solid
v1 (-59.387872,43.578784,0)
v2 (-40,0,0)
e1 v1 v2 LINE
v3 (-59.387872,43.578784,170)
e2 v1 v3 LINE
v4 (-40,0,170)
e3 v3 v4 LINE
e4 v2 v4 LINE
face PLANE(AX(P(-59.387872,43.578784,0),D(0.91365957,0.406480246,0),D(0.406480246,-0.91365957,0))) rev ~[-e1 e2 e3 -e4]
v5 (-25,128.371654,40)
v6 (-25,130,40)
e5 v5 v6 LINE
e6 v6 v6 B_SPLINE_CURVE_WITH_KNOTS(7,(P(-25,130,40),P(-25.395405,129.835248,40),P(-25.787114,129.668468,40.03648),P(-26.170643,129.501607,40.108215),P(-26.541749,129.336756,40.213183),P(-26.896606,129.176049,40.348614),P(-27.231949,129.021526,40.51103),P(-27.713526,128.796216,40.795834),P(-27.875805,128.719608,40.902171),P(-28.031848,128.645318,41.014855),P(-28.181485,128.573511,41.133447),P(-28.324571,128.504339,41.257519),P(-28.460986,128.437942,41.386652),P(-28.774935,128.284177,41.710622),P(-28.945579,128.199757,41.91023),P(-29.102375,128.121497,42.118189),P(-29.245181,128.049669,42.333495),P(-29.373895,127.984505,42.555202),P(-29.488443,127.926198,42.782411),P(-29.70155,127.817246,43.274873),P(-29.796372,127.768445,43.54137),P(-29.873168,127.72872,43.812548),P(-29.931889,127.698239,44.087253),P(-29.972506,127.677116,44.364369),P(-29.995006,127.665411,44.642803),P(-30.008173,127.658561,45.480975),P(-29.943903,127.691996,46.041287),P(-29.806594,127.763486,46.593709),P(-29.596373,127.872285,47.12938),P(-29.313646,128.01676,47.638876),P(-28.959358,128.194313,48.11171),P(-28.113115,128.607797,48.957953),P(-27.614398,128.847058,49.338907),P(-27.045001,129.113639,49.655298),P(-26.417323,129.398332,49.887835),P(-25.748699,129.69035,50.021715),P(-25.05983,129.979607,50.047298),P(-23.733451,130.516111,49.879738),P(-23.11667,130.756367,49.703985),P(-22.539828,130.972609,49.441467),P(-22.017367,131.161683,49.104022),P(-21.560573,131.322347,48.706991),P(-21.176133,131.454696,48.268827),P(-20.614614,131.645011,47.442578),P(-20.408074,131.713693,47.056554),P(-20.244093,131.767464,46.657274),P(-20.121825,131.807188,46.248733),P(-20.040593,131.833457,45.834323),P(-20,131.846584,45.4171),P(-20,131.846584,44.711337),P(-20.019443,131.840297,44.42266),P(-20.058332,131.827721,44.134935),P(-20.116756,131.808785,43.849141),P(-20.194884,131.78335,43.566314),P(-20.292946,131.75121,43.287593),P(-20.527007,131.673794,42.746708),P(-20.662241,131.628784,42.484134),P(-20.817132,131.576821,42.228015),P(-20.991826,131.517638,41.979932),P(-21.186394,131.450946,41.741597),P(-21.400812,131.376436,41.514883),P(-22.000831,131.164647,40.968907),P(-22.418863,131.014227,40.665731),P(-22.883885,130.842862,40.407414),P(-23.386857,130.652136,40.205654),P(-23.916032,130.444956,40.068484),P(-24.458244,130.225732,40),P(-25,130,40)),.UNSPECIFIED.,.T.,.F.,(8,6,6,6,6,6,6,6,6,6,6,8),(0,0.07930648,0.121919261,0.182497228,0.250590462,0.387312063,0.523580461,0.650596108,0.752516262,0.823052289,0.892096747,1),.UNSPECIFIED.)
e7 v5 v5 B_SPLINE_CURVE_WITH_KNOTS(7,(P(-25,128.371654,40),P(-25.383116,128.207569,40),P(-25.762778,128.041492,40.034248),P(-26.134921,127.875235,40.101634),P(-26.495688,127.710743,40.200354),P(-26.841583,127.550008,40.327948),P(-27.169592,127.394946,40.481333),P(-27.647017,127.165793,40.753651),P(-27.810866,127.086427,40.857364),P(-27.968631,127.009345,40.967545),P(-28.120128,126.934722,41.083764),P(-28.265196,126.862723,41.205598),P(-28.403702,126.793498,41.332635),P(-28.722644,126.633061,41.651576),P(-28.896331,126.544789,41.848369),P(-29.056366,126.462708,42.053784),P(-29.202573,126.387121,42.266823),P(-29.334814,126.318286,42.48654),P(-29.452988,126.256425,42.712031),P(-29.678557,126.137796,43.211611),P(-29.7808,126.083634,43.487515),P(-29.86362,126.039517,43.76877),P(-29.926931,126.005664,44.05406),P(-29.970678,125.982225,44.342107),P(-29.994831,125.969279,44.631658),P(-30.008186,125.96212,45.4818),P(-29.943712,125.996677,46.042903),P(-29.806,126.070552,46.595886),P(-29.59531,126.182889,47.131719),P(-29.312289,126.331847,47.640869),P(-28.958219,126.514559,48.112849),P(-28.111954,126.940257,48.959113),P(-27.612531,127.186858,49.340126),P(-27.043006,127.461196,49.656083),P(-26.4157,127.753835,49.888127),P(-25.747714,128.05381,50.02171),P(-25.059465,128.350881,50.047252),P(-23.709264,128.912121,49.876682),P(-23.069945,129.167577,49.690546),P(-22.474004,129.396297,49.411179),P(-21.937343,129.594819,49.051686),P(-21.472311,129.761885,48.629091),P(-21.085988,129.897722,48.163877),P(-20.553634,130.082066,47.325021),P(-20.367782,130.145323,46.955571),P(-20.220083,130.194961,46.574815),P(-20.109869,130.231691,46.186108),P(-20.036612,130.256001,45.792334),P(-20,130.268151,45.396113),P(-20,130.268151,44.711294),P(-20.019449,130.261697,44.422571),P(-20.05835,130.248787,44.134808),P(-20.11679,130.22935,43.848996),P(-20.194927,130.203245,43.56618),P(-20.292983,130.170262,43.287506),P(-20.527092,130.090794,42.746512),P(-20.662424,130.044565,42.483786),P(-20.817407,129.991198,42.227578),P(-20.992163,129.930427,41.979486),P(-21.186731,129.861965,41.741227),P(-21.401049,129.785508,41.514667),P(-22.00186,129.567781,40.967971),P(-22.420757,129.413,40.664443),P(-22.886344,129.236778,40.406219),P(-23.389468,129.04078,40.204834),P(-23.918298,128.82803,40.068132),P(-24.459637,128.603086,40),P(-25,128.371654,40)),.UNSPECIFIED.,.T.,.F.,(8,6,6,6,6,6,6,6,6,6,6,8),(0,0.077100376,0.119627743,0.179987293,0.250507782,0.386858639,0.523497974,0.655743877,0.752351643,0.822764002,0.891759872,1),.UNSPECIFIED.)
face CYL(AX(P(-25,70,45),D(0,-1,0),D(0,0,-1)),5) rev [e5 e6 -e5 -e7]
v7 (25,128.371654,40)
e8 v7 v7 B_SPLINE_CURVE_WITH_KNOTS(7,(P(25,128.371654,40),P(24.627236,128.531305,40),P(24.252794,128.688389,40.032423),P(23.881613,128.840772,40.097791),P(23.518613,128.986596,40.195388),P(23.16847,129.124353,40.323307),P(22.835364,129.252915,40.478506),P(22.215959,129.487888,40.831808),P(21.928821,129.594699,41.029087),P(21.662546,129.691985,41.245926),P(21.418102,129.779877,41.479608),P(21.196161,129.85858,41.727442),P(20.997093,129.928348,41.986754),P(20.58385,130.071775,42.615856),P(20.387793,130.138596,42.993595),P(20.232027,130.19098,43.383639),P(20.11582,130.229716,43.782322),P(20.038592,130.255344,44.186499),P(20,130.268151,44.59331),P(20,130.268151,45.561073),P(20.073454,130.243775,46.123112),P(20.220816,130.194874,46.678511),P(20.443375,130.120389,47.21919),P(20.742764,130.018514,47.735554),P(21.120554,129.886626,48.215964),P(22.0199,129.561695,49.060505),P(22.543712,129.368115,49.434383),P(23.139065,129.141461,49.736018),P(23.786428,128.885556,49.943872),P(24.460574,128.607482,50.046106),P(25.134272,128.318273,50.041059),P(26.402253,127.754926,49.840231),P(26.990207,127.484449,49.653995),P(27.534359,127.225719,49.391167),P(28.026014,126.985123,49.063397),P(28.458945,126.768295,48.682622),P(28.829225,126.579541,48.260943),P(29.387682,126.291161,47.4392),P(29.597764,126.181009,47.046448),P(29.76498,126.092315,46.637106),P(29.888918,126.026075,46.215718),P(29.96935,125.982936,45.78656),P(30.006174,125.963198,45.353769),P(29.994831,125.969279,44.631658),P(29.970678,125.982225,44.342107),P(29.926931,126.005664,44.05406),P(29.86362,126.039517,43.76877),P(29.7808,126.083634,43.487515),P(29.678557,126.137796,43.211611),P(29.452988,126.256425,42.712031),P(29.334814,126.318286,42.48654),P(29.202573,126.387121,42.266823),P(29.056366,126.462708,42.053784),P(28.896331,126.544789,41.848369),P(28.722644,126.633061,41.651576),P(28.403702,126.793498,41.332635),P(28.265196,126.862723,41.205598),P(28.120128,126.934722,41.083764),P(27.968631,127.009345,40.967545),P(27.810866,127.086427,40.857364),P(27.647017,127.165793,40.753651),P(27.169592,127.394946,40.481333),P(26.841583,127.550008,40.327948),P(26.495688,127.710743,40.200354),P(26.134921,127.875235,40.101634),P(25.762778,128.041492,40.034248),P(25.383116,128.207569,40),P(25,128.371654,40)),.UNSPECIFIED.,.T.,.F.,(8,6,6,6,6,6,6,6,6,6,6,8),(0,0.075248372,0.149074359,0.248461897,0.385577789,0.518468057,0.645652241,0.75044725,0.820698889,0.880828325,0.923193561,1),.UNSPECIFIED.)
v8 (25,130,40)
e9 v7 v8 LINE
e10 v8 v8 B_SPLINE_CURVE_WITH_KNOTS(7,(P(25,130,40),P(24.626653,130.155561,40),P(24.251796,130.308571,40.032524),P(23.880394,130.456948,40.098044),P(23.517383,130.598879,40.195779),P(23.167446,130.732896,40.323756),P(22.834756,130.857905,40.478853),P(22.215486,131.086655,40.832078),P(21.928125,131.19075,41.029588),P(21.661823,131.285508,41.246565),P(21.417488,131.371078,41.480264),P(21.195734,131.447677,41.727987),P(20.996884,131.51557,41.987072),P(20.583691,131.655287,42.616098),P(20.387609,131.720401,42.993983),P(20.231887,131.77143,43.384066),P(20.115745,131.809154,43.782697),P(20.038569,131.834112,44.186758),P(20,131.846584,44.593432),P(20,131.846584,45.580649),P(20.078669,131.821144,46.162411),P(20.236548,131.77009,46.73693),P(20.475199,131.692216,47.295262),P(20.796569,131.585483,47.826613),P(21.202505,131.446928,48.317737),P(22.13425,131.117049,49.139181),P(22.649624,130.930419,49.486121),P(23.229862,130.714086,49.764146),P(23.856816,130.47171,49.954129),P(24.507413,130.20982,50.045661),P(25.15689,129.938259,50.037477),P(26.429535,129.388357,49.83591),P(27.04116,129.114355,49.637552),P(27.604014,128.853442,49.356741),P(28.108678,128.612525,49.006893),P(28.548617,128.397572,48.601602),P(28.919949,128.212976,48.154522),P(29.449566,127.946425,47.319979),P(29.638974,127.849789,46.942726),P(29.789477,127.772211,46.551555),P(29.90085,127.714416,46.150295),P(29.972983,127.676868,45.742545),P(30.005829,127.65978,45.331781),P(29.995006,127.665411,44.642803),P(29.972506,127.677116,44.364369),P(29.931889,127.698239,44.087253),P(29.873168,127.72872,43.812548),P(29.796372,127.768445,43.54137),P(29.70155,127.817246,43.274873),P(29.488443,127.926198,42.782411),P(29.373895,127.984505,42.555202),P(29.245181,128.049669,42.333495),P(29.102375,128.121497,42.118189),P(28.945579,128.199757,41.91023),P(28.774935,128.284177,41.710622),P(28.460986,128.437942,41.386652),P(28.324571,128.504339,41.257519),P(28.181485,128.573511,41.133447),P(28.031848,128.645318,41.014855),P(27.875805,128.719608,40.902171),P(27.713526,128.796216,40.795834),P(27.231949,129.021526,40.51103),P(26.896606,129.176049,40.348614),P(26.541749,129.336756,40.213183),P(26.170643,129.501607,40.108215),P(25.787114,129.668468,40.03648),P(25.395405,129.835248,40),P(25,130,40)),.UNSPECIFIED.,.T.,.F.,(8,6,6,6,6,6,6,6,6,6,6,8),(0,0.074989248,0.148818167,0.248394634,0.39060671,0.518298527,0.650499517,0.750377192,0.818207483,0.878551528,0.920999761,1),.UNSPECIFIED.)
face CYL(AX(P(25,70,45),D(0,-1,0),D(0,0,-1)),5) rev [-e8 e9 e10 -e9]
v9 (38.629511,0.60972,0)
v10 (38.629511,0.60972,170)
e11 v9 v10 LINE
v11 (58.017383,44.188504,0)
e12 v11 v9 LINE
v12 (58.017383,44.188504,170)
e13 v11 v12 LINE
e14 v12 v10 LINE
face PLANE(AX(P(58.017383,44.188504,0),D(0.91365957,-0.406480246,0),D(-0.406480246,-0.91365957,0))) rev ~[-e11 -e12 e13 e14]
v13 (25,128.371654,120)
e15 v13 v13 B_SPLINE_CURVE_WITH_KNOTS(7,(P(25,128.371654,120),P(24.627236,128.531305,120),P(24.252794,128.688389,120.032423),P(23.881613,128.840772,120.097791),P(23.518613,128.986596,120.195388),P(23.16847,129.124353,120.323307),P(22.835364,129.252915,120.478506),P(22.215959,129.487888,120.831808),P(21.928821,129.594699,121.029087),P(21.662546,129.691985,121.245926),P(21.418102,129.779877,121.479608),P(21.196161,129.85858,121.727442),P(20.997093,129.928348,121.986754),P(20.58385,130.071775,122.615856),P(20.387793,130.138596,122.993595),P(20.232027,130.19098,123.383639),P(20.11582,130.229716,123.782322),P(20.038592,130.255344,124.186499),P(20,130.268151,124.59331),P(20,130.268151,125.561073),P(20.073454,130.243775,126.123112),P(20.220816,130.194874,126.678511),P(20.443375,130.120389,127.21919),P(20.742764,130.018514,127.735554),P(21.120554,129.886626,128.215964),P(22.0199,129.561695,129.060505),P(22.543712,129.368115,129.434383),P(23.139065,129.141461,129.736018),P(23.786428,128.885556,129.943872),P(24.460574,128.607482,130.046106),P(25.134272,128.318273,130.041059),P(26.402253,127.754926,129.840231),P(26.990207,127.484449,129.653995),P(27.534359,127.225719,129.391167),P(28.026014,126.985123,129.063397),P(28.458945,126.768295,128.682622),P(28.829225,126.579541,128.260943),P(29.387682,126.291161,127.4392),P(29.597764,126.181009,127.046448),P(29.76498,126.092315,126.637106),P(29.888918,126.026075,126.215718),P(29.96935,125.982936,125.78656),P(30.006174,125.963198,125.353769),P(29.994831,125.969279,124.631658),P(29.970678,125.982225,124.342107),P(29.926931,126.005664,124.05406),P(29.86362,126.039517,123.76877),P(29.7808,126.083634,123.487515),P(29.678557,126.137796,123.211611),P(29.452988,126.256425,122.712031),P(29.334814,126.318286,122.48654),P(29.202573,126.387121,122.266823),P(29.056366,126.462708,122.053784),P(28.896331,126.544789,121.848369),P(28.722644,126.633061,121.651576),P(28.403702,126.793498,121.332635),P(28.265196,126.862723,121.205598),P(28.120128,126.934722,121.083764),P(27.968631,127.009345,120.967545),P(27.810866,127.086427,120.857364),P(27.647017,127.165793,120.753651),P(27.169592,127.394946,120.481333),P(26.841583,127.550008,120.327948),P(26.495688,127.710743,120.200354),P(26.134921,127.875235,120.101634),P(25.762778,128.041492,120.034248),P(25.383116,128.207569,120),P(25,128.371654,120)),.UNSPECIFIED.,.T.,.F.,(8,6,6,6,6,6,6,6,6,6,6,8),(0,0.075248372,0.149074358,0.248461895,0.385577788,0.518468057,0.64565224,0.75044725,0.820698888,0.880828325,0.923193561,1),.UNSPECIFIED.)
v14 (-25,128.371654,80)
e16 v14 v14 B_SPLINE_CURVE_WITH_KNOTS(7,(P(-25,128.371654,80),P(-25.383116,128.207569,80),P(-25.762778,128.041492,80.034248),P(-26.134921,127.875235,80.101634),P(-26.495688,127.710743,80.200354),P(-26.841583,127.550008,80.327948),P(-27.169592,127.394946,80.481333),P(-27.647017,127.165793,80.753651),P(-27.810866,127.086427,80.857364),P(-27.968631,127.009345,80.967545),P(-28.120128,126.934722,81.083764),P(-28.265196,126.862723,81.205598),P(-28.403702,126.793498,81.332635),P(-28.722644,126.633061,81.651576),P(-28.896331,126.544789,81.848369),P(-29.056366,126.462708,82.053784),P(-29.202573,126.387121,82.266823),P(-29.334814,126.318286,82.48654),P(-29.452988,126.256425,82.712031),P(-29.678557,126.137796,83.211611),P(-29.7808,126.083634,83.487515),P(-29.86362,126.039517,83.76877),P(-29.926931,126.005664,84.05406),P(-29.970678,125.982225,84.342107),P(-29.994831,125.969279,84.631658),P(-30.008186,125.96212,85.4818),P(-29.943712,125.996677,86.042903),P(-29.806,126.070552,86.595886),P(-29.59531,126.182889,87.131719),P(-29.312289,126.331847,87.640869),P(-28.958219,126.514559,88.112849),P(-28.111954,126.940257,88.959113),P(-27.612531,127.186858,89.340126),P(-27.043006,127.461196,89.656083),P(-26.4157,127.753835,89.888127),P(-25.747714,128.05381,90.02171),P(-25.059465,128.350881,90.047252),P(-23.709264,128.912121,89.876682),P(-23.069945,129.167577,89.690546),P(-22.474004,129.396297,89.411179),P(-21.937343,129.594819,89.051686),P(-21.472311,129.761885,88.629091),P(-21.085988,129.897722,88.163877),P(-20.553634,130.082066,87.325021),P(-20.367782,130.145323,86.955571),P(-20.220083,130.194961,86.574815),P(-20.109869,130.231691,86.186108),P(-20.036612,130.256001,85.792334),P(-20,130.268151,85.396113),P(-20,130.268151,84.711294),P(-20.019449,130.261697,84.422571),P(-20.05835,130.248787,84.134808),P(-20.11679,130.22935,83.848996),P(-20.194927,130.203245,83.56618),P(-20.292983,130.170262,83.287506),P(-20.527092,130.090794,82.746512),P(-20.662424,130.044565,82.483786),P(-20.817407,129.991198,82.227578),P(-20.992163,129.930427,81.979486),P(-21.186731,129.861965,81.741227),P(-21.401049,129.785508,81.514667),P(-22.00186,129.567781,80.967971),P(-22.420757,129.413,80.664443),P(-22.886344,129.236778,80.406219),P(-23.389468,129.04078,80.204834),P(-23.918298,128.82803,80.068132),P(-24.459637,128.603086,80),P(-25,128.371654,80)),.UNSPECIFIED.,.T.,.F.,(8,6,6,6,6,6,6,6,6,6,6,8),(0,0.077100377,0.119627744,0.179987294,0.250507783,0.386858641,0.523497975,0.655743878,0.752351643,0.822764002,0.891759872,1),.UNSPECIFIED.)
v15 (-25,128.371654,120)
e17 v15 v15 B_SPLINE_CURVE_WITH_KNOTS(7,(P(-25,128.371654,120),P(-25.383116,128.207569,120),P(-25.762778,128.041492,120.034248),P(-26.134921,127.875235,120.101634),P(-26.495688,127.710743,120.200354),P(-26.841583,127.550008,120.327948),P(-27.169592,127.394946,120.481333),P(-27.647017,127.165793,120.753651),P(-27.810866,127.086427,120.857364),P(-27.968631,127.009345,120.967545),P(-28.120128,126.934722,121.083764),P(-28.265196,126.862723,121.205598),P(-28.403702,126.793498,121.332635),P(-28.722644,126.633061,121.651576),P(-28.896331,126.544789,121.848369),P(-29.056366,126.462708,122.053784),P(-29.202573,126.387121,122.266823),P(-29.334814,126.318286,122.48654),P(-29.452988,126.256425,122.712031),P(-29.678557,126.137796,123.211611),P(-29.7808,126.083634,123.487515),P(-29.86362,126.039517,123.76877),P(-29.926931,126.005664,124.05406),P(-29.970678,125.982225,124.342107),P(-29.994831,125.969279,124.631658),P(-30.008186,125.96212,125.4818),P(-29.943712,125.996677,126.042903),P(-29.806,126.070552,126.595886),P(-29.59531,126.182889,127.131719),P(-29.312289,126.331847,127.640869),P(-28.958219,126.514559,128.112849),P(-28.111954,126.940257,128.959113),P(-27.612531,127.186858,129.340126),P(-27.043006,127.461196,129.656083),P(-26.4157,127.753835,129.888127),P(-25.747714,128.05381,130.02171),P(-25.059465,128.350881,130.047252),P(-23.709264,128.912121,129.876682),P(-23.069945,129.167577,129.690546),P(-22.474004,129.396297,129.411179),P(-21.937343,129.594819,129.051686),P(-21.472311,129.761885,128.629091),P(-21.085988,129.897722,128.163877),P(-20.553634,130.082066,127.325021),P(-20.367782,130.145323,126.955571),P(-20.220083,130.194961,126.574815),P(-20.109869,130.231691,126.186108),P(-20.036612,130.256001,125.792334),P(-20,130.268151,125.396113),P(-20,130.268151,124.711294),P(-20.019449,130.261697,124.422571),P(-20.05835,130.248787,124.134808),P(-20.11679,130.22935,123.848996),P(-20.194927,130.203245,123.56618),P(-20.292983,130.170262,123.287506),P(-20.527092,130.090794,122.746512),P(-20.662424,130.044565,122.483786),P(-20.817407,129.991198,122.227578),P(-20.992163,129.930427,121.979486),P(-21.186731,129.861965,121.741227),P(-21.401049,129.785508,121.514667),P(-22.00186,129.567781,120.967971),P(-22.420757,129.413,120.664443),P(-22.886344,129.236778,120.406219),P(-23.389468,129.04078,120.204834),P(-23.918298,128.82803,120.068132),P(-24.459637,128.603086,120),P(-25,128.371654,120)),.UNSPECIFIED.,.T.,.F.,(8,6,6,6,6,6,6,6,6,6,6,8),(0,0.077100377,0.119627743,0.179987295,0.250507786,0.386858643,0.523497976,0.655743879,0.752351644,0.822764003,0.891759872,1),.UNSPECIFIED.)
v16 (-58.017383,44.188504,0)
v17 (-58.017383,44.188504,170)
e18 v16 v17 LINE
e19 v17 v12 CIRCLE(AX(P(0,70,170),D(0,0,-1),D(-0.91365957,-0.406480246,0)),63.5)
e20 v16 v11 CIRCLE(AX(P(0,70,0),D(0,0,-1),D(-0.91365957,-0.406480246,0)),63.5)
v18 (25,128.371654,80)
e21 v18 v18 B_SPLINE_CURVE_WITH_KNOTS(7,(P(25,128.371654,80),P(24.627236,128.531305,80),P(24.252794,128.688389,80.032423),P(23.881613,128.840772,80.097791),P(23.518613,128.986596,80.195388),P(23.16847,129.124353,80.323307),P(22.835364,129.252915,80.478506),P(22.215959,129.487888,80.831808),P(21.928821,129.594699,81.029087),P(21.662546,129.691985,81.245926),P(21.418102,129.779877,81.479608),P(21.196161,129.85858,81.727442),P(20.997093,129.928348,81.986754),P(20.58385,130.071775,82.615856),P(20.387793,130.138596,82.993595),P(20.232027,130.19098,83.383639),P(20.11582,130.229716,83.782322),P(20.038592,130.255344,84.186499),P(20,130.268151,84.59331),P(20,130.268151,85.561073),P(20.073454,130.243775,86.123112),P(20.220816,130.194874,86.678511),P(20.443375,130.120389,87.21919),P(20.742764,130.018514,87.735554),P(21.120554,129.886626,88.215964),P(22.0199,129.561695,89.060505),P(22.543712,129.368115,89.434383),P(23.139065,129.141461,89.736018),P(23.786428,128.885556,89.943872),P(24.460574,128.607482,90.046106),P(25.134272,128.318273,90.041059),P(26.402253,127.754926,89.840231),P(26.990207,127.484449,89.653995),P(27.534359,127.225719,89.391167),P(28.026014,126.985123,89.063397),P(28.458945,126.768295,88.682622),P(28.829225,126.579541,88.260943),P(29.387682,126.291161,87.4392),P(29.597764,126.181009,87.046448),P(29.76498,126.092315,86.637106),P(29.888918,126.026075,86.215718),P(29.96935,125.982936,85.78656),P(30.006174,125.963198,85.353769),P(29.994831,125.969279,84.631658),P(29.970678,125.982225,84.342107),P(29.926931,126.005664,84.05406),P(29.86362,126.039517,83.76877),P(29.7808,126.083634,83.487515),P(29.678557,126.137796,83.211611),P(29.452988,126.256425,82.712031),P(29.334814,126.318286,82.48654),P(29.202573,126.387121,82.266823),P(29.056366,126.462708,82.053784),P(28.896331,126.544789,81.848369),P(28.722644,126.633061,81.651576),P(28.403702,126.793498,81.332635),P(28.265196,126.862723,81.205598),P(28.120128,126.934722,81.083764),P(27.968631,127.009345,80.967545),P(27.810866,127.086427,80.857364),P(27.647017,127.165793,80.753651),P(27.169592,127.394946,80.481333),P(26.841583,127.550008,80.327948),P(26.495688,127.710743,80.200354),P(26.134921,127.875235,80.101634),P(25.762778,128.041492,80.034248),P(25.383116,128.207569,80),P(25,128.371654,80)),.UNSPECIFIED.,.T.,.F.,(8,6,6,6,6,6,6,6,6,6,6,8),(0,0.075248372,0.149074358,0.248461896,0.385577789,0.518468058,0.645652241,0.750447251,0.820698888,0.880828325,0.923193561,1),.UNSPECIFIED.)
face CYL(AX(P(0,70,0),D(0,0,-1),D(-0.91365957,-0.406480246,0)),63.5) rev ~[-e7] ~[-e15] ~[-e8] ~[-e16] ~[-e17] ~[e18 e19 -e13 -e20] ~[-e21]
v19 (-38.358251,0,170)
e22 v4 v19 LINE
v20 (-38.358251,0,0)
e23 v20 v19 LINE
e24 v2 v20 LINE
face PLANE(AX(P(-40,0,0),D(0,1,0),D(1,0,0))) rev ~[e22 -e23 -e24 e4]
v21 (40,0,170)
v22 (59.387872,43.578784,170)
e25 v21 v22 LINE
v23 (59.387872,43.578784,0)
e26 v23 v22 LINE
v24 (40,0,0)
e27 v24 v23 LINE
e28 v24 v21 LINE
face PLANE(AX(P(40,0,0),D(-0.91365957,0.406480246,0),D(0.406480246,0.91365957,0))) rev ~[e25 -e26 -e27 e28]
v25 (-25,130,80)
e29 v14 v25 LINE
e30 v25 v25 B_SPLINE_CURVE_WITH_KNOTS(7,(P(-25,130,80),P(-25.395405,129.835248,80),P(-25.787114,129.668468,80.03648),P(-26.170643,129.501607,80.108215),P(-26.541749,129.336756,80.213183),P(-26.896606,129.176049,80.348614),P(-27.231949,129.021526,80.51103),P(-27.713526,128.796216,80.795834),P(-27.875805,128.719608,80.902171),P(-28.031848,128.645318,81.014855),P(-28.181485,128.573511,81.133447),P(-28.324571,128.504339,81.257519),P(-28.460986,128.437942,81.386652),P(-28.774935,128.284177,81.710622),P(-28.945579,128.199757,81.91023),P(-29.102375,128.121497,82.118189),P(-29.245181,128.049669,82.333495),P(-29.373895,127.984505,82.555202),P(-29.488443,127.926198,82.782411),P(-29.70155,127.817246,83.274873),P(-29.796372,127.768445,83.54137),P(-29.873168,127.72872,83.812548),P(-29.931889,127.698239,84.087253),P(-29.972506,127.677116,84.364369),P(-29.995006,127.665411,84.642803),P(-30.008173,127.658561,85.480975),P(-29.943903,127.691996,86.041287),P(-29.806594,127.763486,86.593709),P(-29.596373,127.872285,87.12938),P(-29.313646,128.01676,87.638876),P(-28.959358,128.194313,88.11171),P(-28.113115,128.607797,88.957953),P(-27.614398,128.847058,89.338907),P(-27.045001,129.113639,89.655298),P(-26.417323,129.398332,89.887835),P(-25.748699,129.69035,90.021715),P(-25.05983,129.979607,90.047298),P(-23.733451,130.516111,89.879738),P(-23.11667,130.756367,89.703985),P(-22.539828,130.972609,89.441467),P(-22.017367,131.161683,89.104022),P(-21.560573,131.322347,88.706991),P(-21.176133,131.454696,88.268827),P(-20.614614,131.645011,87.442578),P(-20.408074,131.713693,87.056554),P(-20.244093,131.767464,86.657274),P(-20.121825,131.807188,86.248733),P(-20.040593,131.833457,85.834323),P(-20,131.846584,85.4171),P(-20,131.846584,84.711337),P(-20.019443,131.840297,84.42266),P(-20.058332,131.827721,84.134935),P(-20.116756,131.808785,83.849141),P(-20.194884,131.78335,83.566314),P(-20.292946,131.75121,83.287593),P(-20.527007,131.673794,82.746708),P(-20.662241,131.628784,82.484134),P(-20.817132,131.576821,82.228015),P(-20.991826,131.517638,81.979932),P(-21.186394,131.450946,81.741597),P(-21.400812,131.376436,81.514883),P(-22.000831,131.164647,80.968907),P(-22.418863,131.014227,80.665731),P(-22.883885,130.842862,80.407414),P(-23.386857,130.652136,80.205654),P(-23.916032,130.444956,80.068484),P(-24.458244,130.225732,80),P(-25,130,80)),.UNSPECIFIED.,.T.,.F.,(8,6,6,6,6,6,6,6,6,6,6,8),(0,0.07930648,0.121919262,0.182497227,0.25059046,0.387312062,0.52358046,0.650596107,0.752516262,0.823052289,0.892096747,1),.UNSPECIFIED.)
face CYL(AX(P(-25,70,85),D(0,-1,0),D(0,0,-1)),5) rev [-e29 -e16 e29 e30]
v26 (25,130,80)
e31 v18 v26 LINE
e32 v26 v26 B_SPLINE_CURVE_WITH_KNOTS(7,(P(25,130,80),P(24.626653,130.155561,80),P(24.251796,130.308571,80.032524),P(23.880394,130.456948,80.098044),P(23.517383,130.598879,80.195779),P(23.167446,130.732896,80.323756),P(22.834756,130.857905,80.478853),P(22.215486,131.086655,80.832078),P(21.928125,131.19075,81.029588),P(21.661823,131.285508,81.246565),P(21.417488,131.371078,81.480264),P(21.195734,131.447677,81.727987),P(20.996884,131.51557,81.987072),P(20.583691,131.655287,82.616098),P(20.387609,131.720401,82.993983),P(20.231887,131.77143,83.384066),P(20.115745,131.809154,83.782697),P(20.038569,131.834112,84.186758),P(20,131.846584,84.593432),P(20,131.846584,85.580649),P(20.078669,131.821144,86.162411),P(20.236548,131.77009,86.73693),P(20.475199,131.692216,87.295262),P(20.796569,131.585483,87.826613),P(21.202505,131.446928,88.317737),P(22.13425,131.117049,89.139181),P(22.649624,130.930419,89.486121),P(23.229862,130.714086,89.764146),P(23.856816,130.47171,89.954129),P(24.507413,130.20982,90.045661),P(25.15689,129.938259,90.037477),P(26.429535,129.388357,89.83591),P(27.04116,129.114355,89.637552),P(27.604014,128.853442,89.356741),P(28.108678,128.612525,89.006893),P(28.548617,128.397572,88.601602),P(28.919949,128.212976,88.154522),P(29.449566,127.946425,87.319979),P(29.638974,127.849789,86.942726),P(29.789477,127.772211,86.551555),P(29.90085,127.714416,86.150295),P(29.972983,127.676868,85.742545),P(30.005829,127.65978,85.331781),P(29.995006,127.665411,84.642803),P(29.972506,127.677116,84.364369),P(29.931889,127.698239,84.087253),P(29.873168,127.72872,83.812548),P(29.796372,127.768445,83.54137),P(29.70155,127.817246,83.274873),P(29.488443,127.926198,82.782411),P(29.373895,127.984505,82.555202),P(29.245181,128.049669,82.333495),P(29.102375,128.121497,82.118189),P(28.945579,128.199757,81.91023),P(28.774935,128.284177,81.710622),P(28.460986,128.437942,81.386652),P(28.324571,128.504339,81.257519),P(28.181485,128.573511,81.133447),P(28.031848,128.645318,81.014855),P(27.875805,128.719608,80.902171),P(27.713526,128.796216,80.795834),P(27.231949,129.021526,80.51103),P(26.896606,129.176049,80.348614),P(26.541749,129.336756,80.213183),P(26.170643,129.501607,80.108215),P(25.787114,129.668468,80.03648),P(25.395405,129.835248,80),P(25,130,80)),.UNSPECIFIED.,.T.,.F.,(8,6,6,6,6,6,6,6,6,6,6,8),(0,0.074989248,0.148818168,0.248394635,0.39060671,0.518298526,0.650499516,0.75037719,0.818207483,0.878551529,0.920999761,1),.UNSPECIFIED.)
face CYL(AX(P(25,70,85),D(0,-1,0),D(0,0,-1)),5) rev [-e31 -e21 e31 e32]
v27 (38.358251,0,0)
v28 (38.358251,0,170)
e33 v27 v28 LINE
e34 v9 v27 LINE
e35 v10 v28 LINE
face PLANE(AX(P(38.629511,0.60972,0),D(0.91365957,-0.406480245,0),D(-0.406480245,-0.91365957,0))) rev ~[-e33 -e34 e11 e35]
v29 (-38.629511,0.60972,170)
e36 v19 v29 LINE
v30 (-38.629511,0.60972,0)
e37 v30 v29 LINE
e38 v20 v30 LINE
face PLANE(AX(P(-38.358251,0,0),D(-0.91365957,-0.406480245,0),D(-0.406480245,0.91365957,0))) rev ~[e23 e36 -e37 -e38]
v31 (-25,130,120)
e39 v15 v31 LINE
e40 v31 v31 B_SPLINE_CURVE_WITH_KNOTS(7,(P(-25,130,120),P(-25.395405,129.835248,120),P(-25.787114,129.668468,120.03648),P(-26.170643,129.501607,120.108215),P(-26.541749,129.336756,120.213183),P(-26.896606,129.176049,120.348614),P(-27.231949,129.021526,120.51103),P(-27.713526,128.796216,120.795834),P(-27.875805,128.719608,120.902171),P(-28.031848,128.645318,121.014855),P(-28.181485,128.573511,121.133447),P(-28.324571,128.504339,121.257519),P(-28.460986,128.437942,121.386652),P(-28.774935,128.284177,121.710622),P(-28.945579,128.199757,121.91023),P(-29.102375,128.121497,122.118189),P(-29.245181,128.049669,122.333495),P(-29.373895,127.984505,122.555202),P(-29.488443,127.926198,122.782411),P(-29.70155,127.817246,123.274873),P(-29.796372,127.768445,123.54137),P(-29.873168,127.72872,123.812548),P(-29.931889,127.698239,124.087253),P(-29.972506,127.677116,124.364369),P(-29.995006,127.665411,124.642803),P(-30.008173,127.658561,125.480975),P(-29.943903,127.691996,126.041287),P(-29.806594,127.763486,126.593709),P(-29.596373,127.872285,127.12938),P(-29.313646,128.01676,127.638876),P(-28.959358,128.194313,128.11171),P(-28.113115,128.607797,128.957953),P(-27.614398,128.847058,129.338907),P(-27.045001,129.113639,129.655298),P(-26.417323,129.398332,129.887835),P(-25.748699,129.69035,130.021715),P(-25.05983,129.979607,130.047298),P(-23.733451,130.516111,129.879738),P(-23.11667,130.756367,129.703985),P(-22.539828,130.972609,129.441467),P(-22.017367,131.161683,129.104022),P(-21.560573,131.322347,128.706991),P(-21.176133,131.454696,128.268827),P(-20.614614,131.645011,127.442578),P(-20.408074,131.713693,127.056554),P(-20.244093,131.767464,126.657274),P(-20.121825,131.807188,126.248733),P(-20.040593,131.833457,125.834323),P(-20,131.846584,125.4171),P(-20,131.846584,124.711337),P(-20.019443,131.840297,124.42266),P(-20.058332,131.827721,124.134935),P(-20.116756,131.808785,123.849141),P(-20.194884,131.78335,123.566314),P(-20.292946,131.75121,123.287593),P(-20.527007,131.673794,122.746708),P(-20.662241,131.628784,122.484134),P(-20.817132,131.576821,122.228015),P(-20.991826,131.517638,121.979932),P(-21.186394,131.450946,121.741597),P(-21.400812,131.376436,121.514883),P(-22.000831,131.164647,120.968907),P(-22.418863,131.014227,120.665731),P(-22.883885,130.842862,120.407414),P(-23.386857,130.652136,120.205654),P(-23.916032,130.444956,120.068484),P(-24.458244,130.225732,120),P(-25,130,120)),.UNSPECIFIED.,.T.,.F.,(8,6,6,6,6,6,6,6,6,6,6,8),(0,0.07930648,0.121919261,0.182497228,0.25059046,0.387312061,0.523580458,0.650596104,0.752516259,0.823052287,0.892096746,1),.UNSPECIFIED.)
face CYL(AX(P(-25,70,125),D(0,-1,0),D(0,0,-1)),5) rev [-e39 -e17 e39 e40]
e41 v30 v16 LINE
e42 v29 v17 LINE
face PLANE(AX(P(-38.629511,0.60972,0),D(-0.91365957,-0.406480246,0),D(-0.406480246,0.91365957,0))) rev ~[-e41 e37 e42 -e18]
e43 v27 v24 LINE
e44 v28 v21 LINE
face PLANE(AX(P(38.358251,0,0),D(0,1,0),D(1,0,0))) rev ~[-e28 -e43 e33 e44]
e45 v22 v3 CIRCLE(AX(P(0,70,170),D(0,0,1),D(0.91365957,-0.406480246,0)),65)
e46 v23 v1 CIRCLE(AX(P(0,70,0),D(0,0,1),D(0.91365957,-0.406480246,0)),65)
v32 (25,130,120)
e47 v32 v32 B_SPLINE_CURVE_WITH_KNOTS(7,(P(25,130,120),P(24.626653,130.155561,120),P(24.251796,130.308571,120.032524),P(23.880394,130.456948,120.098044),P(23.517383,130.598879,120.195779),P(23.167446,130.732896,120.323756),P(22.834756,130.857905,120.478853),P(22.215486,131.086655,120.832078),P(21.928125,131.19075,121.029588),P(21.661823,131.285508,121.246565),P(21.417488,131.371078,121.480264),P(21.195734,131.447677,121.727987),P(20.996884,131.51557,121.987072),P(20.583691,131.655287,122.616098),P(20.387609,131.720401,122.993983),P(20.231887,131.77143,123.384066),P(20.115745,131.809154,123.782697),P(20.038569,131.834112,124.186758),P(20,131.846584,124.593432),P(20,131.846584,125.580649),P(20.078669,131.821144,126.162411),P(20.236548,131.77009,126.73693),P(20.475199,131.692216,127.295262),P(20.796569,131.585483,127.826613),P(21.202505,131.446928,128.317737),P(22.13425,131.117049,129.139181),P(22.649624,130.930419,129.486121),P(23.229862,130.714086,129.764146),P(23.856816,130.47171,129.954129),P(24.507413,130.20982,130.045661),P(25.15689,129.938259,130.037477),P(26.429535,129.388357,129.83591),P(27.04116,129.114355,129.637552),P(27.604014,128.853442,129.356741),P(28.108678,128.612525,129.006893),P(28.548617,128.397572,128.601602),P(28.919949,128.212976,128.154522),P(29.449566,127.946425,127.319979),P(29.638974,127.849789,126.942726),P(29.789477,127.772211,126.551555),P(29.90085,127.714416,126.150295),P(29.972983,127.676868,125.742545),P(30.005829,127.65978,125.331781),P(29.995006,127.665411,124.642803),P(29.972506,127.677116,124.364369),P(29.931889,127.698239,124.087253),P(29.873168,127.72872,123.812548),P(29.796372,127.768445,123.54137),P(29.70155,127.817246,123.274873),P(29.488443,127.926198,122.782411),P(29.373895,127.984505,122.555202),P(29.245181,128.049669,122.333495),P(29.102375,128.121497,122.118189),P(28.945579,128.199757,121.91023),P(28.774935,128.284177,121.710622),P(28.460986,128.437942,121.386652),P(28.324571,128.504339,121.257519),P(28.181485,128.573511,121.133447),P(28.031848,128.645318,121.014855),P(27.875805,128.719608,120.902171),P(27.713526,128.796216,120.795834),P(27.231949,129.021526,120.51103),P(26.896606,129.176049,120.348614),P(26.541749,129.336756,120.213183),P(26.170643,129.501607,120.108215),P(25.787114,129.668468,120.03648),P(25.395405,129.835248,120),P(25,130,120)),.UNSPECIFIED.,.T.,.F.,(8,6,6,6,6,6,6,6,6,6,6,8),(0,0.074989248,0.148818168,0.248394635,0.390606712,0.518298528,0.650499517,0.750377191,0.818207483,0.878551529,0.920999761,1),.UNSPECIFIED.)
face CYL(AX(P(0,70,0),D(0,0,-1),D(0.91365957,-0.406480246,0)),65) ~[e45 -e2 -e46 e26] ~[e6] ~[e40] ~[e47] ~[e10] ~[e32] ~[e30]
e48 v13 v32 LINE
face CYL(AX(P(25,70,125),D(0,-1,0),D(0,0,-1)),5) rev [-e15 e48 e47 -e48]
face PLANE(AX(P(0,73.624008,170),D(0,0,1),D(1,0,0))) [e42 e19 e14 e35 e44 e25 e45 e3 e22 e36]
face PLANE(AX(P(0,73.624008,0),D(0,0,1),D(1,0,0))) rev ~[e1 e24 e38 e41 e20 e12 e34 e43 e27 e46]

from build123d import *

# Parameters (mm, degrees)
BOSS_EXTRUDE1_DEPTH = 170
SKETCH2_R           = 5
CUT_EXTRUDE1_DEPTH  = 196


with BuildPart() as part:
    # Sketch1 → Boss-Extrude1 (new body)
    with BuildSketch(Plane.XY):
        with BuildLine():
            Line((-59.38787205, 43.578784028), (-40, 0))
            Line((-40, 0), (-38.358250656, 0))
            Line((-38.358250656, 0), (-38.629510645, 0.609720369))
            Line((-38.629510645, 0.609720369), (-58.017382695, 44.188504397))
            ThreePointArc((-58.017382695, 44.188504397), (0, 133.5), (58.017382695, 44.188504397))
            Line((58.017382695, 44.188504397), (38.629510645, 0.609720369))
            Line((38.629510645, 0.609720369), (38.358250656, 0))
            Line((38.358250656, 0), (40, 0))
            Line((40, 0), (59.38787205, 43.578784028))
            ThreePointArc((59.38787205, 43.578784028), (0, 135), (-59.38787205, 43.578784028))
        make_face()
    extrude(amount=BOSS_EXTRUDE1_DEPTH)

    # Sketch2 → Cut-Extrude1 (cut, through all)
    with BuildSketch(Plane(origin=(0, 70, 0), x_dir=(1, 0, 0), z_dir=(0, 1, 0))):
        with Locations(Location((-25, -45, 0), (0, 0, 90))):
            Circle(SKETCH2_R)
        with Locations(Location((25, -45, 0), (0, 0, 90))):
            Circle(SKETCH2_R)
        with Locations(Location((25, -85, 0), (0, 0, 90))):
            Circle(SKETCH2_R)
        with Locations(Location((25, -125, 0), (0, 0, 90))):
            Circle(SKETCH2_R)
        with Locations(Location((-25, -85, 0), (0, 0, 90))):
            Circle(SKETCH2_R)
        with Locations(Location((-25, -125, 0), (0, 0, 90))):
            Circle(SKETCH2_R)
    extrude(amount=CUT_EXTRUDE1_DEPTH, mode=Mode.SUBTRACT)


solid = part.part
